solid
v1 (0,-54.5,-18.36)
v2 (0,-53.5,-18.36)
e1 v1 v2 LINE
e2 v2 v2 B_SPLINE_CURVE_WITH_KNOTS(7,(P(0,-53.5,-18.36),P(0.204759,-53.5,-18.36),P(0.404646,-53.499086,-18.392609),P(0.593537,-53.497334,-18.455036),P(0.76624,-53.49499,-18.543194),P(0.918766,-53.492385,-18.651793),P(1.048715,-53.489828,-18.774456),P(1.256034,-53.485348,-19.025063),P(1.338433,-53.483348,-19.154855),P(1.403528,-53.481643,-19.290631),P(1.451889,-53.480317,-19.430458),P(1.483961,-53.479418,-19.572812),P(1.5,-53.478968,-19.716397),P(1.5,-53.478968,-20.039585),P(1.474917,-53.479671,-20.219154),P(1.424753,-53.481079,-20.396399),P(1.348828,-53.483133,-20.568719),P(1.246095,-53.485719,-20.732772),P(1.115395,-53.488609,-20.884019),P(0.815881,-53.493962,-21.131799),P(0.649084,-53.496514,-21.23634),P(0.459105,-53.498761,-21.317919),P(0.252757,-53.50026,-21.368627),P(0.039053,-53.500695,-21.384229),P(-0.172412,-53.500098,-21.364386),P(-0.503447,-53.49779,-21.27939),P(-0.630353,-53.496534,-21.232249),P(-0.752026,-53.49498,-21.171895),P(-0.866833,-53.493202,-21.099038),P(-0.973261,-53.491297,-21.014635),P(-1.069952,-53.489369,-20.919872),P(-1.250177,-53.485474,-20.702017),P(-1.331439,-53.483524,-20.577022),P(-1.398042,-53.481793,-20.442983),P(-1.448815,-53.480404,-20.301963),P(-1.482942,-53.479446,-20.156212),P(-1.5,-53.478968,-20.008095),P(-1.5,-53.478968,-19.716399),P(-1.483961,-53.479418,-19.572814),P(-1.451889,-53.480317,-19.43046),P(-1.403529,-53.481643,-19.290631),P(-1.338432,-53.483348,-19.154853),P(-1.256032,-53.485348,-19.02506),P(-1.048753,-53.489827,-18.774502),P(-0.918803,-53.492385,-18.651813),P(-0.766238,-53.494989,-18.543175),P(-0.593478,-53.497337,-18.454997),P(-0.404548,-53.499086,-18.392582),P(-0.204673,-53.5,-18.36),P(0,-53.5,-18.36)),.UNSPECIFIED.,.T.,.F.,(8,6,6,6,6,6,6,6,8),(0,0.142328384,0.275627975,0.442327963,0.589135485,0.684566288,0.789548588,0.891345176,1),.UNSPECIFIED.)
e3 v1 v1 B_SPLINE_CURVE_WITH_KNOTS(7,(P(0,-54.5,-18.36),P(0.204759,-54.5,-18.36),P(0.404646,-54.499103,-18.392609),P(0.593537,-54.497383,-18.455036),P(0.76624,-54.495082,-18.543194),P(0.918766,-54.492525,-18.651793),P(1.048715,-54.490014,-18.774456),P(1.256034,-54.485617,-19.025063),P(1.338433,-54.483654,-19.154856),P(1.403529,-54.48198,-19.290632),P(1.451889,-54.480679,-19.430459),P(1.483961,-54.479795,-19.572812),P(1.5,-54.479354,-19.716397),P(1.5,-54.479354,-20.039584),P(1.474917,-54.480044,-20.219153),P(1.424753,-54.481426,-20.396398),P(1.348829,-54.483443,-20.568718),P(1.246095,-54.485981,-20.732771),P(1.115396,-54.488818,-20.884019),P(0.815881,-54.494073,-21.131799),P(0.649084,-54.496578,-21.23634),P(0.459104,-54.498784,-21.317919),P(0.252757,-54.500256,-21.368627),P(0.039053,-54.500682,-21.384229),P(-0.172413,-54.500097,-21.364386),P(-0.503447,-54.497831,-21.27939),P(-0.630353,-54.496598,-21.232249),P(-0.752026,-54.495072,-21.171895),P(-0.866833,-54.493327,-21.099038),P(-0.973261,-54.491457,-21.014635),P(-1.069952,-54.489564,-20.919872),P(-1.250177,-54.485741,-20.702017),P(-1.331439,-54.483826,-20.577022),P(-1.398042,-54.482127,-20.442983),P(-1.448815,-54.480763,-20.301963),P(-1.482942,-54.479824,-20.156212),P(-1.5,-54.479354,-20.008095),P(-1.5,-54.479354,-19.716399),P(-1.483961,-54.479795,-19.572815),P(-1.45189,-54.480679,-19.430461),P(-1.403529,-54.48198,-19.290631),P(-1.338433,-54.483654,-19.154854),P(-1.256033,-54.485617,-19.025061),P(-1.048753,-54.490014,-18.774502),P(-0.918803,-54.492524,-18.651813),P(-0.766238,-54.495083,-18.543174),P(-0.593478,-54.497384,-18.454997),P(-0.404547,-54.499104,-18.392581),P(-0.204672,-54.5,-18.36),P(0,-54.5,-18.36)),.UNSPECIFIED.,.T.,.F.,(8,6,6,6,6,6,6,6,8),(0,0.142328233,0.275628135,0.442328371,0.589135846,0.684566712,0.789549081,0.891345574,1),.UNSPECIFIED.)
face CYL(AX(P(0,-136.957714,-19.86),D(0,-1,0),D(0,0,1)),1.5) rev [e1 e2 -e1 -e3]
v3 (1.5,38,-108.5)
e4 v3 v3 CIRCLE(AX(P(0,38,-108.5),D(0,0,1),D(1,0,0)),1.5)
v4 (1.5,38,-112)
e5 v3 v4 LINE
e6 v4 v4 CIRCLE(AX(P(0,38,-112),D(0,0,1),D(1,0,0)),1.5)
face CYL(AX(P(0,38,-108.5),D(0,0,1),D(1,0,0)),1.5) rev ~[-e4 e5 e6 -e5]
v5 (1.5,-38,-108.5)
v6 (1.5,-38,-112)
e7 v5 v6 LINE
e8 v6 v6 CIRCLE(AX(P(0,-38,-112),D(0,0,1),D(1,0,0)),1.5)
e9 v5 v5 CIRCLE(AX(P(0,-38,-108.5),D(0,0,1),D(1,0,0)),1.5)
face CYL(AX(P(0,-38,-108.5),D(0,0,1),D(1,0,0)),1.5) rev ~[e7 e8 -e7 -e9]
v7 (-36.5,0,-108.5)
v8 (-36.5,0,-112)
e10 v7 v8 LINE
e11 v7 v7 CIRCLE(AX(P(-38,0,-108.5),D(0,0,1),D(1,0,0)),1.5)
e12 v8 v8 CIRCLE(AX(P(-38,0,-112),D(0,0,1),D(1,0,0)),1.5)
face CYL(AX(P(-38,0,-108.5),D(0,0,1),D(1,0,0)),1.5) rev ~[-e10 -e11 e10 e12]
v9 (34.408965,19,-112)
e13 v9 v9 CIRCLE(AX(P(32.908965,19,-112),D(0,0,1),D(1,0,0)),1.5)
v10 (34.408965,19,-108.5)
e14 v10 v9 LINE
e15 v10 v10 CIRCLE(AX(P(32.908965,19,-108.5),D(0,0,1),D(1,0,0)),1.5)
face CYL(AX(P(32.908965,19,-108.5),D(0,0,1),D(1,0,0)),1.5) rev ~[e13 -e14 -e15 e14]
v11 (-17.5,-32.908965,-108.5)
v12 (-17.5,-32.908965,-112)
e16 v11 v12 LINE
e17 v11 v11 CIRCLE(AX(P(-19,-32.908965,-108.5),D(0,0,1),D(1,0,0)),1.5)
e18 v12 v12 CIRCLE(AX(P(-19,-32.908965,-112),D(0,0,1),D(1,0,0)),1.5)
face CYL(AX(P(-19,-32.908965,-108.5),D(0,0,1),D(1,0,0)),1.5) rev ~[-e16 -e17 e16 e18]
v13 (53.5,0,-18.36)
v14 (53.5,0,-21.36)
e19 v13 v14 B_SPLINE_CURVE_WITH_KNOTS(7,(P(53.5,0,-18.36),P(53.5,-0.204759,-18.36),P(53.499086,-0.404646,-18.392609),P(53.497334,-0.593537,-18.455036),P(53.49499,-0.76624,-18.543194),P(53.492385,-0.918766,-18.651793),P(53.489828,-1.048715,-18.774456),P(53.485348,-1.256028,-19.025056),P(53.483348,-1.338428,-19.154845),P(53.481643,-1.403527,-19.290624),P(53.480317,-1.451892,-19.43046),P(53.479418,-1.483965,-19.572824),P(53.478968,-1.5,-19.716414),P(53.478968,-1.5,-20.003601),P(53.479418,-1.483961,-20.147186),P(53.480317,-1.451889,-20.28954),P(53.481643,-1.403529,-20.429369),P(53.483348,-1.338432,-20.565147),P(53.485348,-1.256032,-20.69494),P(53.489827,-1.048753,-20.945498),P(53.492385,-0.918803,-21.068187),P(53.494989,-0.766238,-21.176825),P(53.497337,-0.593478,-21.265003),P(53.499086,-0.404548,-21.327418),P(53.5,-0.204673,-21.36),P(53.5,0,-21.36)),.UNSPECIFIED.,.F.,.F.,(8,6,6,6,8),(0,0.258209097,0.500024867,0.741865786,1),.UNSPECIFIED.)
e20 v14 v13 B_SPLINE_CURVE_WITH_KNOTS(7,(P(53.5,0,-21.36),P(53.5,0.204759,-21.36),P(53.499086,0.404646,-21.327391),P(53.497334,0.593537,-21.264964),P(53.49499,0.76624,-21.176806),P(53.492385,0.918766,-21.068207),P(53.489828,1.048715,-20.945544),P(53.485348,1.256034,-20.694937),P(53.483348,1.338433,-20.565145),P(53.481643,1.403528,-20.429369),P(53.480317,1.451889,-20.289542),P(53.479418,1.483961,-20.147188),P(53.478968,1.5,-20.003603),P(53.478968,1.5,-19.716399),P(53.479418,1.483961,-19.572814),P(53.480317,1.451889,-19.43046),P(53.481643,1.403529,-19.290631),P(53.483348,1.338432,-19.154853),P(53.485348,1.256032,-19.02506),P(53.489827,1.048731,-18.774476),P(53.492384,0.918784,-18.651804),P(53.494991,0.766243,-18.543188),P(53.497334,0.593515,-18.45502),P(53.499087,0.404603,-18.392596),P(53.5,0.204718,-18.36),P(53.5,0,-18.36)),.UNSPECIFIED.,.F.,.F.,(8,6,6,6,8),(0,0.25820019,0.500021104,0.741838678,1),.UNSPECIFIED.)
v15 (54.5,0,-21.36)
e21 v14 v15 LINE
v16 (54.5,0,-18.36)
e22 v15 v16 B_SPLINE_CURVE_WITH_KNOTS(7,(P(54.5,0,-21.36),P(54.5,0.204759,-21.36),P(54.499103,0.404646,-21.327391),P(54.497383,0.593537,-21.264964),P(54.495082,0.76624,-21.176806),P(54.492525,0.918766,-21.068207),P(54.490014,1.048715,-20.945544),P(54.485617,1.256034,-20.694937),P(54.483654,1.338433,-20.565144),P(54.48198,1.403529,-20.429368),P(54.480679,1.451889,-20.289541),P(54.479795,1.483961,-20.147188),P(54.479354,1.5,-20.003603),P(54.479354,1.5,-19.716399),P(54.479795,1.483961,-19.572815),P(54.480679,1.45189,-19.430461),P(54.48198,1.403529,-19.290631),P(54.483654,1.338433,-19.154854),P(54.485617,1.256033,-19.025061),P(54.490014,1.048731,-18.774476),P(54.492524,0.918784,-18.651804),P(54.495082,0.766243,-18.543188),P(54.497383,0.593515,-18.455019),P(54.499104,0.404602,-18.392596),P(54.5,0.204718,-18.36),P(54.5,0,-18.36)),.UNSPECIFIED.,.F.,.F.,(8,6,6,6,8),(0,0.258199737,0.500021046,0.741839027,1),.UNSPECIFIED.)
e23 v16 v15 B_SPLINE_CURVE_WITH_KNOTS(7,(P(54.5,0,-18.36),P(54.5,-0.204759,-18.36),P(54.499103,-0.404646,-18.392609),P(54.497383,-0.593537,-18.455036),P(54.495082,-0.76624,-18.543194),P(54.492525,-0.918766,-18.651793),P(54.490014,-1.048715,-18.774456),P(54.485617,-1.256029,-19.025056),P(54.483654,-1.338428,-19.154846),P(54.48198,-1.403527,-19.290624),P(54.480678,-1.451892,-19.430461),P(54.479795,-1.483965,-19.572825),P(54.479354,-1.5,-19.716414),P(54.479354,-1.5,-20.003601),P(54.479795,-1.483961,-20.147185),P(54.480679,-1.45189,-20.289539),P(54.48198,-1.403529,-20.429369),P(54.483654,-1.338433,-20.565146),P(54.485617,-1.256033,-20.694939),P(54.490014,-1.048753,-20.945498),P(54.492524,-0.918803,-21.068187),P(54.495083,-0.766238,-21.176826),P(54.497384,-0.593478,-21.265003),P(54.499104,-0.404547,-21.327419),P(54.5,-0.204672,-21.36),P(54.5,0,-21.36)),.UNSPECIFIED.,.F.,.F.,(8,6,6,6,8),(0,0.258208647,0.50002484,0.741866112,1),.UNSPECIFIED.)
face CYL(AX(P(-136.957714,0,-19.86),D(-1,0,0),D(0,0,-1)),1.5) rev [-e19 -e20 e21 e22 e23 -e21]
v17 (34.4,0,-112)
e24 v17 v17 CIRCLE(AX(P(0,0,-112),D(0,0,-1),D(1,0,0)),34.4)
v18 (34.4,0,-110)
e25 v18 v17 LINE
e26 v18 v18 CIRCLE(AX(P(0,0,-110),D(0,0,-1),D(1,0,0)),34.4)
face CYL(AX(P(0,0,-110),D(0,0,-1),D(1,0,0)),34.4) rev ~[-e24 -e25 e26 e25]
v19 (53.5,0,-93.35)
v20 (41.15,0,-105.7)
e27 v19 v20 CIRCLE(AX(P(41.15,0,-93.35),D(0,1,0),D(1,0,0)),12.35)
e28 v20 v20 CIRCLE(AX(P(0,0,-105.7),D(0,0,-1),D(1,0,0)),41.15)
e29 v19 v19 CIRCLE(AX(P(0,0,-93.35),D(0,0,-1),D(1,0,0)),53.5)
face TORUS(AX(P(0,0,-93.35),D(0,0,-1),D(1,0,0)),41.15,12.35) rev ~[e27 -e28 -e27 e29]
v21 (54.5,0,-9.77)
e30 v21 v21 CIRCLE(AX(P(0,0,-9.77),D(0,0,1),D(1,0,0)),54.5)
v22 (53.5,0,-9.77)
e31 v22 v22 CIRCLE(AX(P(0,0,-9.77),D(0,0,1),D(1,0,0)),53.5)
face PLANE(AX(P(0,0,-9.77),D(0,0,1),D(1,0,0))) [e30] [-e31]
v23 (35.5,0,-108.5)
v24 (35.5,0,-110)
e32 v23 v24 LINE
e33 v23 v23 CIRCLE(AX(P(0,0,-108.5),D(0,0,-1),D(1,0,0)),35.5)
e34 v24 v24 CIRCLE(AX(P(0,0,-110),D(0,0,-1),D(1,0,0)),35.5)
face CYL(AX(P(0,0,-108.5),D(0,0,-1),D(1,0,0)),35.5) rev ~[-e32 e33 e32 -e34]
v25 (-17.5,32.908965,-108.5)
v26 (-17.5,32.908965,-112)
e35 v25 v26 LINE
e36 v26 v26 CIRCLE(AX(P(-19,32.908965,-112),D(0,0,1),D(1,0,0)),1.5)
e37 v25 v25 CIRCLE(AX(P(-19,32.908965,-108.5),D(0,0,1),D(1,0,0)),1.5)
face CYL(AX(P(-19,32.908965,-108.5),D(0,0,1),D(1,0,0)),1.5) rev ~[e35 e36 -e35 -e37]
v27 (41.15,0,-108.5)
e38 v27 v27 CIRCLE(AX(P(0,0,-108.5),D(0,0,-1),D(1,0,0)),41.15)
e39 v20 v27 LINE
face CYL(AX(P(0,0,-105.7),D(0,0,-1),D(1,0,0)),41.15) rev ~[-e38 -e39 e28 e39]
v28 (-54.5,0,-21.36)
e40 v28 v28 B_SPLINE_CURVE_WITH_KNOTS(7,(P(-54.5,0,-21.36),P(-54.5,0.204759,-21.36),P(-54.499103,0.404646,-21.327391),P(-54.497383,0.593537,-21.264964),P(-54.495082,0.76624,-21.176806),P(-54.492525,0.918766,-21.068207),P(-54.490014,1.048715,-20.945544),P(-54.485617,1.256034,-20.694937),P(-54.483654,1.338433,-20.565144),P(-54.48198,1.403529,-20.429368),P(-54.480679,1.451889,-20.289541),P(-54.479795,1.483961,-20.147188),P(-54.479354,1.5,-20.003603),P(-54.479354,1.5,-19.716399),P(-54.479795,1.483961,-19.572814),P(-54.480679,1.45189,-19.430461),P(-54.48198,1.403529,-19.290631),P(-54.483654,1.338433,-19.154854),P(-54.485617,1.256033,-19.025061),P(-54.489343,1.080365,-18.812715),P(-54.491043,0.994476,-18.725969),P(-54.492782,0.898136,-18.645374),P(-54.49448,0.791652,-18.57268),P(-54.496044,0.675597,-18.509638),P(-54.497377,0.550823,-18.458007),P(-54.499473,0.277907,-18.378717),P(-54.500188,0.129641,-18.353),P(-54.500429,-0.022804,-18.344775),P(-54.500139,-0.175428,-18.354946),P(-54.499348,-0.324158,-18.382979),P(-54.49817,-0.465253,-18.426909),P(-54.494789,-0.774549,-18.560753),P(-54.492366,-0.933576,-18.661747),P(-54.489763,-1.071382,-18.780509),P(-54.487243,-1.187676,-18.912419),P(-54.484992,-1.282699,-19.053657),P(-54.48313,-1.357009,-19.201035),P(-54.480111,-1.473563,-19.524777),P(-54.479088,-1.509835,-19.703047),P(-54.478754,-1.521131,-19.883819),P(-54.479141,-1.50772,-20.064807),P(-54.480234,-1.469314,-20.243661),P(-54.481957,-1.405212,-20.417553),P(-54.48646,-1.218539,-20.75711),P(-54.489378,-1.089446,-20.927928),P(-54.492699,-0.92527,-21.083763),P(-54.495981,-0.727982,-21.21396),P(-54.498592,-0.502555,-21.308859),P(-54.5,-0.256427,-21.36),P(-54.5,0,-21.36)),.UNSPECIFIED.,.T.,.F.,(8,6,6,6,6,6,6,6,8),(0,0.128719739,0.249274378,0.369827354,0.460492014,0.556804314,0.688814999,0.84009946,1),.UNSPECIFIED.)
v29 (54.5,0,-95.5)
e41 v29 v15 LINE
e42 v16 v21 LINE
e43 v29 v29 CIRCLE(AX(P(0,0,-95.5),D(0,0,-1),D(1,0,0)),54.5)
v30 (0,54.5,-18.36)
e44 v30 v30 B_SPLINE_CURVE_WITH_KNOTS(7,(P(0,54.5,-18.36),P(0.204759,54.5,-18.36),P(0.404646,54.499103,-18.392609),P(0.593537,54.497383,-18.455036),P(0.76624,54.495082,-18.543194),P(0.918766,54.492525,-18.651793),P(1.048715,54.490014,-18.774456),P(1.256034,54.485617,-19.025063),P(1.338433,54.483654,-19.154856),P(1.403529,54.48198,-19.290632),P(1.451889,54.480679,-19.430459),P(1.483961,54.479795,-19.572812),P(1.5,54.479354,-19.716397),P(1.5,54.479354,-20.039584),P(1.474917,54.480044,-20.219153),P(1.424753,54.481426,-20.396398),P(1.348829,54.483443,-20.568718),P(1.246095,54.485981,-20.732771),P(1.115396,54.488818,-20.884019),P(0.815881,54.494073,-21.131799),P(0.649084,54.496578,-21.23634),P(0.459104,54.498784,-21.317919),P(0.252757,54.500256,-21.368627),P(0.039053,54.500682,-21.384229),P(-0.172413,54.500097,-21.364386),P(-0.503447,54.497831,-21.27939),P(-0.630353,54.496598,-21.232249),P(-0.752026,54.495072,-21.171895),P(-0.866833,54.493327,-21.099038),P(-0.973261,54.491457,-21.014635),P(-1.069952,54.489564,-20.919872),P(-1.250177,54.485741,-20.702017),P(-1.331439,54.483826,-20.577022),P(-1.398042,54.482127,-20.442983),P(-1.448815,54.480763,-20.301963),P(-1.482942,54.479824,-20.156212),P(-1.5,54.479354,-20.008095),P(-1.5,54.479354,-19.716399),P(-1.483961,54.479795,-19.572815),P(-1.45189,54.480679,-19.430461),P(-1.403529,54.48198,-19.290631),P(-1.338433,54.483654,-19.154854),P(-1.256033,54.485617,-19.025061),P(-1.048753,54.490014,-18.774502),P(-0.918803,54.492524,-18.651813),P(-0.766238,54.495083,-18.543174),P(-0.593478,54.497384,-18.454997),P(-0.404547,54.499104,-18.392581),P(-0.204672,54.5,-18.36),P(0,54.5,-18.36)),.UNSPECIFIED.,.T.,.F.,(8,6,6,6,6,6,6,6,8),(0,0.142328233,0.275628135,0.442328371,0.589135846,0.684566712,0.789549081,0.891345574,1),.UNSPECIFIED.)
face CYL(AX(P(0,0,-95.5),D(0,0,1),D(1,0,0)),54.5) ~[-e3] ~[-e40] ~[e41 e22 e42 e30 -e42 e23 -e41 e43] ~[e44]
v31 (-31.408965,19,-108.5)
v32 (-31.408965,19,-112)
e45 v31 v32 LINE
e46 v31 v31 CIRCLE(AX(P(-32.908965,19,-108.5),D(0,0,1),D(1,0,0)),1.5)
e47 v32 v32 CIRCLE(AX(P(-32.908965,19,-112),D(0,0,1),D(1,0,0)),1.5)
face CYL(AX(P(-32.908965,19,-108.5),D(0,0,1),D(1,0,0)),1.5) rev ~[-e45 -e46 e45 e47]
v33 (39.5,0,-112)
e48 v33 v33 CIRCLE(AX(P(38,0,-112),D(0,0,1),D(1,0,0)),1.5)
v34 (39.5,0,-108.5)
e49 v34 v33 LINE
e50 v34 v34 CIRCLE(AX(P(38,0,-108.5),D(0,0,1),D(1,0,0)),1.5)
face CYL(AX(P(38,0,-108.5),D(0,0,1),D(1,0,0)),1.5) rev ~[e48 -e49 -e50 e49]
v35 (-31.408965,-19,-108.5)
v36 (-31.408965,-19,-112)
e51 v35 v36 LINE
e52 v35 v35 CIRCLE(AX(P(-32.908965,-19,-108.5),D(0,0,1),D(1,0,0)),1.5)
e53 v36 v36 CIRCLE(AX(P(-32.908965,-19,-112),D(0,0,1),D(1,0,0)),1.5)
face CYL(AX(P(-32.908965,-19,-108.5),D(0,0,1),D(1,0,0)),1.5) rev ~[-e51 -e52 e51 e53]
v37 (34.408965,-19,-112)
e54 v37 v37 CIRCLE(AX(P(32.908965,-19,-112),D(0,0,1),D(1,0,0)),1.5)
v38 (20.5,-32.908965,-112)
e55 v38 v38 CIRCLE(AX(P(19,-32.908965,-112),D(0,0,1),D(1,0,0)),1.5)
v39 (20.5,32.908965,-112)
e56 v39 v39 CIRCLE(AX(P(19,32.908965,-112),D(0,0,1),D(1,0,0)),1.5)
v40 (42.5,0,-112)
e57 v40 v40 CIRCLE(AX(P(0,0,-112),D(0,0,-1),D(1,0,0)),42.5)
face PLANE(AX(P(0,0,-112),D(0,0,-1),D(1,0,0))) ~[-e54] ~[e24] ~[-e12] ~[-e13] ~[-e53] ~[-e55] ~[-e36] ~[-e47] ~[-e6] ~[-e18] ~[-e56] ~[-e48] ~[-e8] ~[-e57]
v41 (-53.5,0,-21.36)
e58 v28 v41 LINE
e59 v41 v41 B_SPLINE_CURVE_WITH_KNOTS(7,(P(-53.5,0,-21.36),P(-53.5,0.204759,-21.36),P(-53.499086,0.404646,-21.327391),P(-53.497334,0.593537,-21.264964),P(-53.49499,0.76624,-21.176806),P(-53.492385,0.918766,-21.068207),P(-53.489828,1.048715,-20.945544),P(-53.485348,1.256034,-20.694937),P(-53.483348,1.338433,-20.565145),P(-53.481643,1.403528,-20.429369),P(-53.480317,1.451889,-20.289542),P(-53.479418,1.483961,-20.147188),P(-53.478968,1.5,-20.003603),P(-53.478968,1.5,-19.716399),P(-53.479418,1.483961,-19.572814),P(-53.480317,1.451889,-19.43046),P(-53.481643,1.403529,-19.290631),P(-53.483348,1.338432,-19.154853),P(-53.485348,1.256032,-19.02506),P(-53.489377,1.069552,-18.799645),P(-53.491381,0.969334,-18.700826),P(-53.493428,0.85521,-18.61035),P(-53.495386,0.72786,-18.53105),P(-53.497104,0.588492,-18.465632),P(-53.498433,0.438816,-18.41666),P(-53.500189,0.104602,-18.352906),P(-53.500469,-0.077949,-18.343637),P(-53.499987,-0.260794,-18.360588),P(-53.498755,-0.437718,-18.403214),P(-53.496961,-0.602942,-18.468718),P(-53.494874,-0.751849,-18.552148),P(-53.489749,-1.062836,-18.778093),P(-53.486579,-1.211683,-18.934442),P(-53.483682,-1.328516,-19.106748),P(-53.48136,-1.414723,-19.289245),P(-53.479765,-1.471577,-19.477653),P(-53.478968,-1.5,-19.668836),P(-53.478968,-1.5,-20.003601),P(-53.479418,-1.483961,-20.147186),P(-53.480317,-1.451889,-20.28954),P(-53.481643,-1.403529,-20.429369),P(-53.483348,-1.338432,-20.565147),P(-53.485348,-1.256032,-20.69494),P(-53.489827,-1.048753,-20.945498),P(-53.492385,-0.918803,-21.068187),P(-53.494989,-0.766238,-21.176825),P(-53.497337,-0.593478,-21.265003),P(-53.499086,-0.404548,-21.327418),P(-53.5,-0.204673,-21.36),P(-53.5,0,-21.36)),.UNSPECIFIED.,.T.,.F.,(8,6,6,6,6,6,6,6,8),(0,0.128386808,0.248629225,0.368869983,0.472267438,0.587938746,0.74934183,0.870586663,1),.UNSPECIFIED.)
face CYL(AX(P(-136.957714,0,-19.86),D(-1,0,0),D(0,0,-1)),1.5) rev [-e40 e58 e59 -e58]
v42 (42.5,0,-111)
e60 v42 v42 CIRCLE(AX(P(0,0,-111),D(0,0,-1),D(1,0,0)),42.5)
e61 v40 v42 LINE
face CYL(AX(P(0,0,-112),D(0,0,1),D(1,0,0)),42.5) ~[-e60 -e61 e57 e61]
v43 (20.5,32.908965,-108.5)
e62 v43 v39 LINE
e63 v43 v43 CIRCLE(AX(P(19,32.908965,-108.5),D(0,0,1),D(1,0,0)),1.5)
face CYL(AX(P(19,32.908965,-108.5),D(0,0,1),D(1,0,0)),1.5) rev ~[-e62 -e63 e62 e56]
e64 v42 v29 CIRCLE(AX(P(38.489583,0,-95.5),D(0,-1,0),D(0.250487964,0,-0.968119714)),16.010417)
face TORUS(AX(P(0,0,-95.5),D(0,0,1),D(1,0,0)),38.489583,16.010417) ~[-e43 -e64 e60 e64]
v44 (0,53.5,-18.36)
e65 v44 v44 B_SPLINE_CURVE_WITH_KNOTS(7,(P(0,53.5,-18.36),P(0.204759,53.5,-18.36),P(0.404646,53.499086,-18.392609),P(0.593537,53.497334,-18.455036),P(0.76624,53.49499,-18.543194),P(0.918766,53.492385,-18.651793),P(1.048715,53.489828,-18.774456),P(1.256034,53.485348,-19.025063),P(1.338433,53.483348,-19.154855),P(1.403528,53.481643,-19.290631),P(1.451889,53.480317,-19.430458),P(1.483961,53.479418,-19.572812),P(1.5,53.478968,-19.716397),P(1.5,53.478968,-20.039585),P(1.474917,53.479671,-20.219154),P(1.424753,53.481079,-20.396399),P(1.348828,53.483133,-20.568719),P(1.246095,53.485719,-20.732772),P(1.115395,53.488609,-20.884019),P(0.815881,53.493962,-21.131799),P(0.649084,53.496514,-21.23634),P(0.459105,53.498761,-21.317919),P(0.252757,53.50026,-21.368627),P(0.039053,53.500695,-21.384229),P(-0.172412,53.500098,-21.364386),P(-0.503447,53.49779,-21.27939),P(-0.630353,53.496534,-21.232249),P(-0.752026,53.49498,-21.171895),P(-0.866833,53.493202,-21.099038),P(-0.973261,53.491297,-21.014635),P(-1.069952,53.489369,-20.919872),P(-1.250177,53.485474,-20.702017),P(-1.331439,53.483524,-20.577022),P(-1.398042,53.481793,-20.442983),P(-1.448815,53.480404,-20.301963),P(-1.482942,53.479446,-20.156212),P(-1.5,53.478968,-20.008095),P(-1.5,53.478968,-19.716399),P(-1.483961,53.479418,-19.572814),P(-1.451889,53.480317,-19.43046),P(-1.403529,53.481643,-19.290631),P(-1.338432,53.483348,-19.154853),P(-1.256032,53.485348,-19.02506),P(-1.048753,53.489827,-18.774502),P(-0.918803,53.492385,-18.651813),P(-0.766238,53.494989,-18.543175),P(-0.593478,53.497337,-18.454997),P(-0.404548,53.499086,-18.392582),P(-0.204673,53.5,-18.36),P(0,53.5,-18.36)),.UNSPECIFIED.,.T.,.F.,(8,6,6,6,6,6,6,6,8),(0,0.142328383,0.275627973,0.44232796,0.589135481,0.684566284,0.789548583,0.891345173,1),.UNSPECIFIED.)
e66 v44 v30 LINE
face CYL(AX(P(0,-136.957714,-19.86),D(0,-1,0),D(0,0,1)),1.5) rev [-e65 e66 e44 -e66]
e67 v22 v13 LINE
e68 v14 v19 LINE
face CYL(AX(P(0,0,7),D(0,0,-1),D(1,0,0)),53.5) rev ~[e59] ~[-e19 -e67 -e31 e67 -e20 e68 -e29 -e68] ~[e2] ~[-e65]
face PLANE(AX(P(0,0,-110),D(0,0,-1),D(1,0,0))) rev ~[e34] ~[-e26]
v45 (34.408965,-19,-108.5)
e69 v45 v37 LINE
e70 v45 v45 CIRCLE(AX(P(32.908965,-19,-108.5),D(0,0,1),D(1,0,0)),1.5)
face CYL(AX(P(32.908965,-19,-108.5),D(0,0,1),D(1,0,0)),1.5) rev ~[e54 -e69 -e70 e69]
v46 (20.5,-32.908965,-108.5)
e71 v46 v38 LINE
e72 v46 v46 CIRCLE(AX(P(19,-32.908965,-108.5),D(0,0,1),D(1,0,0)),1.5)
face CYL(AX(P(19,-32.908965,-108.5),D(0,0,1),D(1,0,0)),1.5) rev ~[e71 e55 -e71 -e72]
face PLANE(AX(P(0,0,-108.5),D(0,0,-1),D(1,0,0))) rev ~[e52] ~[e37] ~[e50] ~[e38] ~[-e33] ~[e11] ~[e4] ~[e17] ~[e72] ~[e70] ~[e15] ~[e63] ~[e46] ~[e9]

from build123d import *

# Parameters (mm, degrees)
ESQUISSE2_R             = 1.5
ENL_V_MAT_EXTRU_1_DEPTH = 139.855140344
CUT_EXTRUDE4_DEPTH      = 142.779758781
CUT_EXTRUDE4_DEPTH_BACK = 16.77
SKETCH6_R               = 54.5
SKETCH6_R_2             = 53.5
CUT_EXTRUDE5_DEPTH      = 136.957714014
CUT_EXTRUDE5_DEPTH_BACK = 136.957714014
SKETCH7_R               = 1.5
CUT_EXTRUDE6_DEPTH      = 136.957714098
CUT_EXTRUDE6_DEPTH_BACK = 136.957714098
SKETCH8_R               = 1.5


with BuildPart() as part:
    # Esquisse1 → Base-Révolution (revolve)
    with BuildSketch(Plane(origin=(0, 0, 0), x_dir=(0, 0, -1), z_dir=(1, 0, 0)), mode=Mode.PRIVATE) as base_r_volution_sk:
        with BuildLine():
            Line((112, 34.4), (112, 42.5))
            Line((112, 42.5), (111, 42.5))
            ThreePointArc((111, 42.5), (105.301147892, 51.14939936), (95.5, 54.5))
            Line((95.5, 54.5), (-7, 54.5))
            Line((-7, 54.5), (-7, 53.5))
            Line((-7, 53.5), (93.35, 53.5))
            ThreePointArc((93.35, 53.5), (102.082768748, 49.882768748), (105.7, 41.15))
            Line((105.7, 41.15), (108.5, 41.15))
            Line((108.5, 41.15), (108.5, 35.5))
            Line((108.5, 35.5), (110, 35.5))
            Line((110, 35.5), (110, 34.4))
            Line((110, 34.4), (112, 34.4))
        make_face()
    revolve(base_r_volution_sk.sketch.rotate(Axis((0, 0, 74.926735219), (0, 0, -1)), 90), axis=Axis((0, 0, 74.926735219), (0, 0, -1)))

    # Esquisse2 → Enlèv. mat.-Extru.1 (cut, through all)
    with BuildSketch(Plane.XY.offset(-108.5)):
        with Locations((0, 38)):
            Circle(ESQUISSE2_R)
        with Locations((19, 32.908965344)):
            Circle(ESQUISSE2_R)
        with Locations((32.908965344, 19)):
            Circle(ESQUISSE2_R)
        with Locations((38, 0)):
            Circle(ESQUISSE2_R)
        with Locations((32.908965344, -19)):
            Circle(ESQUISSE2_R)
        with Locations((19, -32.908965344)):
            Circle(ESQUISSE2_R)
        with Locations((0, -38)):
            Circle(ESQUISSE2_R)
        with Locations((-19, -32.908965344)):
            Circle(ESQUISSE2_R)
        with Locations((-32.908965344, -19)):
            Circle(ESQUISSE2_R)
        with Locations((-38, 0)):
            Circle(ESQUISSE2_R)
        with Locations((-32.908965344, 19)):
            Circle(ESQUISSE2_R)
        with Locations((-19, 32.908965344)):
            Circle(ESQUISSE2_R)
    extrude(amount=-ENL_V_MAT_EXTRU_1_DEPTH, mode=Mode.SUBTRACT)

    # Sketch6 → Cut-Extrude4 (cut, two sides: drawn at the far end of the back side and taken through both)
    with BuildSketch(Plane.XY.offset(7).offset(-CUT_EXTRUDE4_DEPTH_BACK)):
        Circle(SKETCH6_R)
        Circle(SKETCH6_R_2, mode=Mode.SUBTRACT)
    extrude(amount=CUT_EXTRUDE4_DEPTH + CUT_EXTRUDE4_DEPTH_BACK, mode=Mode.SUBTRACT)

    # Sketch7 → Cut-Extrude5 (cut, two sides: drawn at the far end of the back side and taken through both)
    with BuildSketch(Plane(origin=(0, 0, 0), x_dir=(1, 0, 0), z_dir=(0, 1, 0)).offset(-CUT_EXTRUDE5_DEPTH_BACK)):
        with Locations(Location((0, 19.86, 0), (0, 0, 270))):
            Circle(SKETCH7_R)
    extrude(amount=CUT_EXTRUDE5_DEPTH + CUT_EXTRUDE5_DEPTH_BACK, mode=Mode.SUBTRACT)

    # Sketch8 → Cut-Extrude6 (cut, two sides: drawn at the far end of the back side and taken through both)
    with BuildSketch(Plane(origin=(0, 0, 0), x_dir=(0, 0, -1), z_dir=(1, 0, 0)).offset(-CUT_EXTRUDE6_DEPTH_BACK)):
        with Locations((19.86, 0)):
            Circle(SKETCH8_R)
    extrude(amount=CUT_EXTRUDE6_DEPTH + CUT_EXTRUDE6_DEPTH_BACK, mode=Mode.SUBTRACT)


solid = part.part
